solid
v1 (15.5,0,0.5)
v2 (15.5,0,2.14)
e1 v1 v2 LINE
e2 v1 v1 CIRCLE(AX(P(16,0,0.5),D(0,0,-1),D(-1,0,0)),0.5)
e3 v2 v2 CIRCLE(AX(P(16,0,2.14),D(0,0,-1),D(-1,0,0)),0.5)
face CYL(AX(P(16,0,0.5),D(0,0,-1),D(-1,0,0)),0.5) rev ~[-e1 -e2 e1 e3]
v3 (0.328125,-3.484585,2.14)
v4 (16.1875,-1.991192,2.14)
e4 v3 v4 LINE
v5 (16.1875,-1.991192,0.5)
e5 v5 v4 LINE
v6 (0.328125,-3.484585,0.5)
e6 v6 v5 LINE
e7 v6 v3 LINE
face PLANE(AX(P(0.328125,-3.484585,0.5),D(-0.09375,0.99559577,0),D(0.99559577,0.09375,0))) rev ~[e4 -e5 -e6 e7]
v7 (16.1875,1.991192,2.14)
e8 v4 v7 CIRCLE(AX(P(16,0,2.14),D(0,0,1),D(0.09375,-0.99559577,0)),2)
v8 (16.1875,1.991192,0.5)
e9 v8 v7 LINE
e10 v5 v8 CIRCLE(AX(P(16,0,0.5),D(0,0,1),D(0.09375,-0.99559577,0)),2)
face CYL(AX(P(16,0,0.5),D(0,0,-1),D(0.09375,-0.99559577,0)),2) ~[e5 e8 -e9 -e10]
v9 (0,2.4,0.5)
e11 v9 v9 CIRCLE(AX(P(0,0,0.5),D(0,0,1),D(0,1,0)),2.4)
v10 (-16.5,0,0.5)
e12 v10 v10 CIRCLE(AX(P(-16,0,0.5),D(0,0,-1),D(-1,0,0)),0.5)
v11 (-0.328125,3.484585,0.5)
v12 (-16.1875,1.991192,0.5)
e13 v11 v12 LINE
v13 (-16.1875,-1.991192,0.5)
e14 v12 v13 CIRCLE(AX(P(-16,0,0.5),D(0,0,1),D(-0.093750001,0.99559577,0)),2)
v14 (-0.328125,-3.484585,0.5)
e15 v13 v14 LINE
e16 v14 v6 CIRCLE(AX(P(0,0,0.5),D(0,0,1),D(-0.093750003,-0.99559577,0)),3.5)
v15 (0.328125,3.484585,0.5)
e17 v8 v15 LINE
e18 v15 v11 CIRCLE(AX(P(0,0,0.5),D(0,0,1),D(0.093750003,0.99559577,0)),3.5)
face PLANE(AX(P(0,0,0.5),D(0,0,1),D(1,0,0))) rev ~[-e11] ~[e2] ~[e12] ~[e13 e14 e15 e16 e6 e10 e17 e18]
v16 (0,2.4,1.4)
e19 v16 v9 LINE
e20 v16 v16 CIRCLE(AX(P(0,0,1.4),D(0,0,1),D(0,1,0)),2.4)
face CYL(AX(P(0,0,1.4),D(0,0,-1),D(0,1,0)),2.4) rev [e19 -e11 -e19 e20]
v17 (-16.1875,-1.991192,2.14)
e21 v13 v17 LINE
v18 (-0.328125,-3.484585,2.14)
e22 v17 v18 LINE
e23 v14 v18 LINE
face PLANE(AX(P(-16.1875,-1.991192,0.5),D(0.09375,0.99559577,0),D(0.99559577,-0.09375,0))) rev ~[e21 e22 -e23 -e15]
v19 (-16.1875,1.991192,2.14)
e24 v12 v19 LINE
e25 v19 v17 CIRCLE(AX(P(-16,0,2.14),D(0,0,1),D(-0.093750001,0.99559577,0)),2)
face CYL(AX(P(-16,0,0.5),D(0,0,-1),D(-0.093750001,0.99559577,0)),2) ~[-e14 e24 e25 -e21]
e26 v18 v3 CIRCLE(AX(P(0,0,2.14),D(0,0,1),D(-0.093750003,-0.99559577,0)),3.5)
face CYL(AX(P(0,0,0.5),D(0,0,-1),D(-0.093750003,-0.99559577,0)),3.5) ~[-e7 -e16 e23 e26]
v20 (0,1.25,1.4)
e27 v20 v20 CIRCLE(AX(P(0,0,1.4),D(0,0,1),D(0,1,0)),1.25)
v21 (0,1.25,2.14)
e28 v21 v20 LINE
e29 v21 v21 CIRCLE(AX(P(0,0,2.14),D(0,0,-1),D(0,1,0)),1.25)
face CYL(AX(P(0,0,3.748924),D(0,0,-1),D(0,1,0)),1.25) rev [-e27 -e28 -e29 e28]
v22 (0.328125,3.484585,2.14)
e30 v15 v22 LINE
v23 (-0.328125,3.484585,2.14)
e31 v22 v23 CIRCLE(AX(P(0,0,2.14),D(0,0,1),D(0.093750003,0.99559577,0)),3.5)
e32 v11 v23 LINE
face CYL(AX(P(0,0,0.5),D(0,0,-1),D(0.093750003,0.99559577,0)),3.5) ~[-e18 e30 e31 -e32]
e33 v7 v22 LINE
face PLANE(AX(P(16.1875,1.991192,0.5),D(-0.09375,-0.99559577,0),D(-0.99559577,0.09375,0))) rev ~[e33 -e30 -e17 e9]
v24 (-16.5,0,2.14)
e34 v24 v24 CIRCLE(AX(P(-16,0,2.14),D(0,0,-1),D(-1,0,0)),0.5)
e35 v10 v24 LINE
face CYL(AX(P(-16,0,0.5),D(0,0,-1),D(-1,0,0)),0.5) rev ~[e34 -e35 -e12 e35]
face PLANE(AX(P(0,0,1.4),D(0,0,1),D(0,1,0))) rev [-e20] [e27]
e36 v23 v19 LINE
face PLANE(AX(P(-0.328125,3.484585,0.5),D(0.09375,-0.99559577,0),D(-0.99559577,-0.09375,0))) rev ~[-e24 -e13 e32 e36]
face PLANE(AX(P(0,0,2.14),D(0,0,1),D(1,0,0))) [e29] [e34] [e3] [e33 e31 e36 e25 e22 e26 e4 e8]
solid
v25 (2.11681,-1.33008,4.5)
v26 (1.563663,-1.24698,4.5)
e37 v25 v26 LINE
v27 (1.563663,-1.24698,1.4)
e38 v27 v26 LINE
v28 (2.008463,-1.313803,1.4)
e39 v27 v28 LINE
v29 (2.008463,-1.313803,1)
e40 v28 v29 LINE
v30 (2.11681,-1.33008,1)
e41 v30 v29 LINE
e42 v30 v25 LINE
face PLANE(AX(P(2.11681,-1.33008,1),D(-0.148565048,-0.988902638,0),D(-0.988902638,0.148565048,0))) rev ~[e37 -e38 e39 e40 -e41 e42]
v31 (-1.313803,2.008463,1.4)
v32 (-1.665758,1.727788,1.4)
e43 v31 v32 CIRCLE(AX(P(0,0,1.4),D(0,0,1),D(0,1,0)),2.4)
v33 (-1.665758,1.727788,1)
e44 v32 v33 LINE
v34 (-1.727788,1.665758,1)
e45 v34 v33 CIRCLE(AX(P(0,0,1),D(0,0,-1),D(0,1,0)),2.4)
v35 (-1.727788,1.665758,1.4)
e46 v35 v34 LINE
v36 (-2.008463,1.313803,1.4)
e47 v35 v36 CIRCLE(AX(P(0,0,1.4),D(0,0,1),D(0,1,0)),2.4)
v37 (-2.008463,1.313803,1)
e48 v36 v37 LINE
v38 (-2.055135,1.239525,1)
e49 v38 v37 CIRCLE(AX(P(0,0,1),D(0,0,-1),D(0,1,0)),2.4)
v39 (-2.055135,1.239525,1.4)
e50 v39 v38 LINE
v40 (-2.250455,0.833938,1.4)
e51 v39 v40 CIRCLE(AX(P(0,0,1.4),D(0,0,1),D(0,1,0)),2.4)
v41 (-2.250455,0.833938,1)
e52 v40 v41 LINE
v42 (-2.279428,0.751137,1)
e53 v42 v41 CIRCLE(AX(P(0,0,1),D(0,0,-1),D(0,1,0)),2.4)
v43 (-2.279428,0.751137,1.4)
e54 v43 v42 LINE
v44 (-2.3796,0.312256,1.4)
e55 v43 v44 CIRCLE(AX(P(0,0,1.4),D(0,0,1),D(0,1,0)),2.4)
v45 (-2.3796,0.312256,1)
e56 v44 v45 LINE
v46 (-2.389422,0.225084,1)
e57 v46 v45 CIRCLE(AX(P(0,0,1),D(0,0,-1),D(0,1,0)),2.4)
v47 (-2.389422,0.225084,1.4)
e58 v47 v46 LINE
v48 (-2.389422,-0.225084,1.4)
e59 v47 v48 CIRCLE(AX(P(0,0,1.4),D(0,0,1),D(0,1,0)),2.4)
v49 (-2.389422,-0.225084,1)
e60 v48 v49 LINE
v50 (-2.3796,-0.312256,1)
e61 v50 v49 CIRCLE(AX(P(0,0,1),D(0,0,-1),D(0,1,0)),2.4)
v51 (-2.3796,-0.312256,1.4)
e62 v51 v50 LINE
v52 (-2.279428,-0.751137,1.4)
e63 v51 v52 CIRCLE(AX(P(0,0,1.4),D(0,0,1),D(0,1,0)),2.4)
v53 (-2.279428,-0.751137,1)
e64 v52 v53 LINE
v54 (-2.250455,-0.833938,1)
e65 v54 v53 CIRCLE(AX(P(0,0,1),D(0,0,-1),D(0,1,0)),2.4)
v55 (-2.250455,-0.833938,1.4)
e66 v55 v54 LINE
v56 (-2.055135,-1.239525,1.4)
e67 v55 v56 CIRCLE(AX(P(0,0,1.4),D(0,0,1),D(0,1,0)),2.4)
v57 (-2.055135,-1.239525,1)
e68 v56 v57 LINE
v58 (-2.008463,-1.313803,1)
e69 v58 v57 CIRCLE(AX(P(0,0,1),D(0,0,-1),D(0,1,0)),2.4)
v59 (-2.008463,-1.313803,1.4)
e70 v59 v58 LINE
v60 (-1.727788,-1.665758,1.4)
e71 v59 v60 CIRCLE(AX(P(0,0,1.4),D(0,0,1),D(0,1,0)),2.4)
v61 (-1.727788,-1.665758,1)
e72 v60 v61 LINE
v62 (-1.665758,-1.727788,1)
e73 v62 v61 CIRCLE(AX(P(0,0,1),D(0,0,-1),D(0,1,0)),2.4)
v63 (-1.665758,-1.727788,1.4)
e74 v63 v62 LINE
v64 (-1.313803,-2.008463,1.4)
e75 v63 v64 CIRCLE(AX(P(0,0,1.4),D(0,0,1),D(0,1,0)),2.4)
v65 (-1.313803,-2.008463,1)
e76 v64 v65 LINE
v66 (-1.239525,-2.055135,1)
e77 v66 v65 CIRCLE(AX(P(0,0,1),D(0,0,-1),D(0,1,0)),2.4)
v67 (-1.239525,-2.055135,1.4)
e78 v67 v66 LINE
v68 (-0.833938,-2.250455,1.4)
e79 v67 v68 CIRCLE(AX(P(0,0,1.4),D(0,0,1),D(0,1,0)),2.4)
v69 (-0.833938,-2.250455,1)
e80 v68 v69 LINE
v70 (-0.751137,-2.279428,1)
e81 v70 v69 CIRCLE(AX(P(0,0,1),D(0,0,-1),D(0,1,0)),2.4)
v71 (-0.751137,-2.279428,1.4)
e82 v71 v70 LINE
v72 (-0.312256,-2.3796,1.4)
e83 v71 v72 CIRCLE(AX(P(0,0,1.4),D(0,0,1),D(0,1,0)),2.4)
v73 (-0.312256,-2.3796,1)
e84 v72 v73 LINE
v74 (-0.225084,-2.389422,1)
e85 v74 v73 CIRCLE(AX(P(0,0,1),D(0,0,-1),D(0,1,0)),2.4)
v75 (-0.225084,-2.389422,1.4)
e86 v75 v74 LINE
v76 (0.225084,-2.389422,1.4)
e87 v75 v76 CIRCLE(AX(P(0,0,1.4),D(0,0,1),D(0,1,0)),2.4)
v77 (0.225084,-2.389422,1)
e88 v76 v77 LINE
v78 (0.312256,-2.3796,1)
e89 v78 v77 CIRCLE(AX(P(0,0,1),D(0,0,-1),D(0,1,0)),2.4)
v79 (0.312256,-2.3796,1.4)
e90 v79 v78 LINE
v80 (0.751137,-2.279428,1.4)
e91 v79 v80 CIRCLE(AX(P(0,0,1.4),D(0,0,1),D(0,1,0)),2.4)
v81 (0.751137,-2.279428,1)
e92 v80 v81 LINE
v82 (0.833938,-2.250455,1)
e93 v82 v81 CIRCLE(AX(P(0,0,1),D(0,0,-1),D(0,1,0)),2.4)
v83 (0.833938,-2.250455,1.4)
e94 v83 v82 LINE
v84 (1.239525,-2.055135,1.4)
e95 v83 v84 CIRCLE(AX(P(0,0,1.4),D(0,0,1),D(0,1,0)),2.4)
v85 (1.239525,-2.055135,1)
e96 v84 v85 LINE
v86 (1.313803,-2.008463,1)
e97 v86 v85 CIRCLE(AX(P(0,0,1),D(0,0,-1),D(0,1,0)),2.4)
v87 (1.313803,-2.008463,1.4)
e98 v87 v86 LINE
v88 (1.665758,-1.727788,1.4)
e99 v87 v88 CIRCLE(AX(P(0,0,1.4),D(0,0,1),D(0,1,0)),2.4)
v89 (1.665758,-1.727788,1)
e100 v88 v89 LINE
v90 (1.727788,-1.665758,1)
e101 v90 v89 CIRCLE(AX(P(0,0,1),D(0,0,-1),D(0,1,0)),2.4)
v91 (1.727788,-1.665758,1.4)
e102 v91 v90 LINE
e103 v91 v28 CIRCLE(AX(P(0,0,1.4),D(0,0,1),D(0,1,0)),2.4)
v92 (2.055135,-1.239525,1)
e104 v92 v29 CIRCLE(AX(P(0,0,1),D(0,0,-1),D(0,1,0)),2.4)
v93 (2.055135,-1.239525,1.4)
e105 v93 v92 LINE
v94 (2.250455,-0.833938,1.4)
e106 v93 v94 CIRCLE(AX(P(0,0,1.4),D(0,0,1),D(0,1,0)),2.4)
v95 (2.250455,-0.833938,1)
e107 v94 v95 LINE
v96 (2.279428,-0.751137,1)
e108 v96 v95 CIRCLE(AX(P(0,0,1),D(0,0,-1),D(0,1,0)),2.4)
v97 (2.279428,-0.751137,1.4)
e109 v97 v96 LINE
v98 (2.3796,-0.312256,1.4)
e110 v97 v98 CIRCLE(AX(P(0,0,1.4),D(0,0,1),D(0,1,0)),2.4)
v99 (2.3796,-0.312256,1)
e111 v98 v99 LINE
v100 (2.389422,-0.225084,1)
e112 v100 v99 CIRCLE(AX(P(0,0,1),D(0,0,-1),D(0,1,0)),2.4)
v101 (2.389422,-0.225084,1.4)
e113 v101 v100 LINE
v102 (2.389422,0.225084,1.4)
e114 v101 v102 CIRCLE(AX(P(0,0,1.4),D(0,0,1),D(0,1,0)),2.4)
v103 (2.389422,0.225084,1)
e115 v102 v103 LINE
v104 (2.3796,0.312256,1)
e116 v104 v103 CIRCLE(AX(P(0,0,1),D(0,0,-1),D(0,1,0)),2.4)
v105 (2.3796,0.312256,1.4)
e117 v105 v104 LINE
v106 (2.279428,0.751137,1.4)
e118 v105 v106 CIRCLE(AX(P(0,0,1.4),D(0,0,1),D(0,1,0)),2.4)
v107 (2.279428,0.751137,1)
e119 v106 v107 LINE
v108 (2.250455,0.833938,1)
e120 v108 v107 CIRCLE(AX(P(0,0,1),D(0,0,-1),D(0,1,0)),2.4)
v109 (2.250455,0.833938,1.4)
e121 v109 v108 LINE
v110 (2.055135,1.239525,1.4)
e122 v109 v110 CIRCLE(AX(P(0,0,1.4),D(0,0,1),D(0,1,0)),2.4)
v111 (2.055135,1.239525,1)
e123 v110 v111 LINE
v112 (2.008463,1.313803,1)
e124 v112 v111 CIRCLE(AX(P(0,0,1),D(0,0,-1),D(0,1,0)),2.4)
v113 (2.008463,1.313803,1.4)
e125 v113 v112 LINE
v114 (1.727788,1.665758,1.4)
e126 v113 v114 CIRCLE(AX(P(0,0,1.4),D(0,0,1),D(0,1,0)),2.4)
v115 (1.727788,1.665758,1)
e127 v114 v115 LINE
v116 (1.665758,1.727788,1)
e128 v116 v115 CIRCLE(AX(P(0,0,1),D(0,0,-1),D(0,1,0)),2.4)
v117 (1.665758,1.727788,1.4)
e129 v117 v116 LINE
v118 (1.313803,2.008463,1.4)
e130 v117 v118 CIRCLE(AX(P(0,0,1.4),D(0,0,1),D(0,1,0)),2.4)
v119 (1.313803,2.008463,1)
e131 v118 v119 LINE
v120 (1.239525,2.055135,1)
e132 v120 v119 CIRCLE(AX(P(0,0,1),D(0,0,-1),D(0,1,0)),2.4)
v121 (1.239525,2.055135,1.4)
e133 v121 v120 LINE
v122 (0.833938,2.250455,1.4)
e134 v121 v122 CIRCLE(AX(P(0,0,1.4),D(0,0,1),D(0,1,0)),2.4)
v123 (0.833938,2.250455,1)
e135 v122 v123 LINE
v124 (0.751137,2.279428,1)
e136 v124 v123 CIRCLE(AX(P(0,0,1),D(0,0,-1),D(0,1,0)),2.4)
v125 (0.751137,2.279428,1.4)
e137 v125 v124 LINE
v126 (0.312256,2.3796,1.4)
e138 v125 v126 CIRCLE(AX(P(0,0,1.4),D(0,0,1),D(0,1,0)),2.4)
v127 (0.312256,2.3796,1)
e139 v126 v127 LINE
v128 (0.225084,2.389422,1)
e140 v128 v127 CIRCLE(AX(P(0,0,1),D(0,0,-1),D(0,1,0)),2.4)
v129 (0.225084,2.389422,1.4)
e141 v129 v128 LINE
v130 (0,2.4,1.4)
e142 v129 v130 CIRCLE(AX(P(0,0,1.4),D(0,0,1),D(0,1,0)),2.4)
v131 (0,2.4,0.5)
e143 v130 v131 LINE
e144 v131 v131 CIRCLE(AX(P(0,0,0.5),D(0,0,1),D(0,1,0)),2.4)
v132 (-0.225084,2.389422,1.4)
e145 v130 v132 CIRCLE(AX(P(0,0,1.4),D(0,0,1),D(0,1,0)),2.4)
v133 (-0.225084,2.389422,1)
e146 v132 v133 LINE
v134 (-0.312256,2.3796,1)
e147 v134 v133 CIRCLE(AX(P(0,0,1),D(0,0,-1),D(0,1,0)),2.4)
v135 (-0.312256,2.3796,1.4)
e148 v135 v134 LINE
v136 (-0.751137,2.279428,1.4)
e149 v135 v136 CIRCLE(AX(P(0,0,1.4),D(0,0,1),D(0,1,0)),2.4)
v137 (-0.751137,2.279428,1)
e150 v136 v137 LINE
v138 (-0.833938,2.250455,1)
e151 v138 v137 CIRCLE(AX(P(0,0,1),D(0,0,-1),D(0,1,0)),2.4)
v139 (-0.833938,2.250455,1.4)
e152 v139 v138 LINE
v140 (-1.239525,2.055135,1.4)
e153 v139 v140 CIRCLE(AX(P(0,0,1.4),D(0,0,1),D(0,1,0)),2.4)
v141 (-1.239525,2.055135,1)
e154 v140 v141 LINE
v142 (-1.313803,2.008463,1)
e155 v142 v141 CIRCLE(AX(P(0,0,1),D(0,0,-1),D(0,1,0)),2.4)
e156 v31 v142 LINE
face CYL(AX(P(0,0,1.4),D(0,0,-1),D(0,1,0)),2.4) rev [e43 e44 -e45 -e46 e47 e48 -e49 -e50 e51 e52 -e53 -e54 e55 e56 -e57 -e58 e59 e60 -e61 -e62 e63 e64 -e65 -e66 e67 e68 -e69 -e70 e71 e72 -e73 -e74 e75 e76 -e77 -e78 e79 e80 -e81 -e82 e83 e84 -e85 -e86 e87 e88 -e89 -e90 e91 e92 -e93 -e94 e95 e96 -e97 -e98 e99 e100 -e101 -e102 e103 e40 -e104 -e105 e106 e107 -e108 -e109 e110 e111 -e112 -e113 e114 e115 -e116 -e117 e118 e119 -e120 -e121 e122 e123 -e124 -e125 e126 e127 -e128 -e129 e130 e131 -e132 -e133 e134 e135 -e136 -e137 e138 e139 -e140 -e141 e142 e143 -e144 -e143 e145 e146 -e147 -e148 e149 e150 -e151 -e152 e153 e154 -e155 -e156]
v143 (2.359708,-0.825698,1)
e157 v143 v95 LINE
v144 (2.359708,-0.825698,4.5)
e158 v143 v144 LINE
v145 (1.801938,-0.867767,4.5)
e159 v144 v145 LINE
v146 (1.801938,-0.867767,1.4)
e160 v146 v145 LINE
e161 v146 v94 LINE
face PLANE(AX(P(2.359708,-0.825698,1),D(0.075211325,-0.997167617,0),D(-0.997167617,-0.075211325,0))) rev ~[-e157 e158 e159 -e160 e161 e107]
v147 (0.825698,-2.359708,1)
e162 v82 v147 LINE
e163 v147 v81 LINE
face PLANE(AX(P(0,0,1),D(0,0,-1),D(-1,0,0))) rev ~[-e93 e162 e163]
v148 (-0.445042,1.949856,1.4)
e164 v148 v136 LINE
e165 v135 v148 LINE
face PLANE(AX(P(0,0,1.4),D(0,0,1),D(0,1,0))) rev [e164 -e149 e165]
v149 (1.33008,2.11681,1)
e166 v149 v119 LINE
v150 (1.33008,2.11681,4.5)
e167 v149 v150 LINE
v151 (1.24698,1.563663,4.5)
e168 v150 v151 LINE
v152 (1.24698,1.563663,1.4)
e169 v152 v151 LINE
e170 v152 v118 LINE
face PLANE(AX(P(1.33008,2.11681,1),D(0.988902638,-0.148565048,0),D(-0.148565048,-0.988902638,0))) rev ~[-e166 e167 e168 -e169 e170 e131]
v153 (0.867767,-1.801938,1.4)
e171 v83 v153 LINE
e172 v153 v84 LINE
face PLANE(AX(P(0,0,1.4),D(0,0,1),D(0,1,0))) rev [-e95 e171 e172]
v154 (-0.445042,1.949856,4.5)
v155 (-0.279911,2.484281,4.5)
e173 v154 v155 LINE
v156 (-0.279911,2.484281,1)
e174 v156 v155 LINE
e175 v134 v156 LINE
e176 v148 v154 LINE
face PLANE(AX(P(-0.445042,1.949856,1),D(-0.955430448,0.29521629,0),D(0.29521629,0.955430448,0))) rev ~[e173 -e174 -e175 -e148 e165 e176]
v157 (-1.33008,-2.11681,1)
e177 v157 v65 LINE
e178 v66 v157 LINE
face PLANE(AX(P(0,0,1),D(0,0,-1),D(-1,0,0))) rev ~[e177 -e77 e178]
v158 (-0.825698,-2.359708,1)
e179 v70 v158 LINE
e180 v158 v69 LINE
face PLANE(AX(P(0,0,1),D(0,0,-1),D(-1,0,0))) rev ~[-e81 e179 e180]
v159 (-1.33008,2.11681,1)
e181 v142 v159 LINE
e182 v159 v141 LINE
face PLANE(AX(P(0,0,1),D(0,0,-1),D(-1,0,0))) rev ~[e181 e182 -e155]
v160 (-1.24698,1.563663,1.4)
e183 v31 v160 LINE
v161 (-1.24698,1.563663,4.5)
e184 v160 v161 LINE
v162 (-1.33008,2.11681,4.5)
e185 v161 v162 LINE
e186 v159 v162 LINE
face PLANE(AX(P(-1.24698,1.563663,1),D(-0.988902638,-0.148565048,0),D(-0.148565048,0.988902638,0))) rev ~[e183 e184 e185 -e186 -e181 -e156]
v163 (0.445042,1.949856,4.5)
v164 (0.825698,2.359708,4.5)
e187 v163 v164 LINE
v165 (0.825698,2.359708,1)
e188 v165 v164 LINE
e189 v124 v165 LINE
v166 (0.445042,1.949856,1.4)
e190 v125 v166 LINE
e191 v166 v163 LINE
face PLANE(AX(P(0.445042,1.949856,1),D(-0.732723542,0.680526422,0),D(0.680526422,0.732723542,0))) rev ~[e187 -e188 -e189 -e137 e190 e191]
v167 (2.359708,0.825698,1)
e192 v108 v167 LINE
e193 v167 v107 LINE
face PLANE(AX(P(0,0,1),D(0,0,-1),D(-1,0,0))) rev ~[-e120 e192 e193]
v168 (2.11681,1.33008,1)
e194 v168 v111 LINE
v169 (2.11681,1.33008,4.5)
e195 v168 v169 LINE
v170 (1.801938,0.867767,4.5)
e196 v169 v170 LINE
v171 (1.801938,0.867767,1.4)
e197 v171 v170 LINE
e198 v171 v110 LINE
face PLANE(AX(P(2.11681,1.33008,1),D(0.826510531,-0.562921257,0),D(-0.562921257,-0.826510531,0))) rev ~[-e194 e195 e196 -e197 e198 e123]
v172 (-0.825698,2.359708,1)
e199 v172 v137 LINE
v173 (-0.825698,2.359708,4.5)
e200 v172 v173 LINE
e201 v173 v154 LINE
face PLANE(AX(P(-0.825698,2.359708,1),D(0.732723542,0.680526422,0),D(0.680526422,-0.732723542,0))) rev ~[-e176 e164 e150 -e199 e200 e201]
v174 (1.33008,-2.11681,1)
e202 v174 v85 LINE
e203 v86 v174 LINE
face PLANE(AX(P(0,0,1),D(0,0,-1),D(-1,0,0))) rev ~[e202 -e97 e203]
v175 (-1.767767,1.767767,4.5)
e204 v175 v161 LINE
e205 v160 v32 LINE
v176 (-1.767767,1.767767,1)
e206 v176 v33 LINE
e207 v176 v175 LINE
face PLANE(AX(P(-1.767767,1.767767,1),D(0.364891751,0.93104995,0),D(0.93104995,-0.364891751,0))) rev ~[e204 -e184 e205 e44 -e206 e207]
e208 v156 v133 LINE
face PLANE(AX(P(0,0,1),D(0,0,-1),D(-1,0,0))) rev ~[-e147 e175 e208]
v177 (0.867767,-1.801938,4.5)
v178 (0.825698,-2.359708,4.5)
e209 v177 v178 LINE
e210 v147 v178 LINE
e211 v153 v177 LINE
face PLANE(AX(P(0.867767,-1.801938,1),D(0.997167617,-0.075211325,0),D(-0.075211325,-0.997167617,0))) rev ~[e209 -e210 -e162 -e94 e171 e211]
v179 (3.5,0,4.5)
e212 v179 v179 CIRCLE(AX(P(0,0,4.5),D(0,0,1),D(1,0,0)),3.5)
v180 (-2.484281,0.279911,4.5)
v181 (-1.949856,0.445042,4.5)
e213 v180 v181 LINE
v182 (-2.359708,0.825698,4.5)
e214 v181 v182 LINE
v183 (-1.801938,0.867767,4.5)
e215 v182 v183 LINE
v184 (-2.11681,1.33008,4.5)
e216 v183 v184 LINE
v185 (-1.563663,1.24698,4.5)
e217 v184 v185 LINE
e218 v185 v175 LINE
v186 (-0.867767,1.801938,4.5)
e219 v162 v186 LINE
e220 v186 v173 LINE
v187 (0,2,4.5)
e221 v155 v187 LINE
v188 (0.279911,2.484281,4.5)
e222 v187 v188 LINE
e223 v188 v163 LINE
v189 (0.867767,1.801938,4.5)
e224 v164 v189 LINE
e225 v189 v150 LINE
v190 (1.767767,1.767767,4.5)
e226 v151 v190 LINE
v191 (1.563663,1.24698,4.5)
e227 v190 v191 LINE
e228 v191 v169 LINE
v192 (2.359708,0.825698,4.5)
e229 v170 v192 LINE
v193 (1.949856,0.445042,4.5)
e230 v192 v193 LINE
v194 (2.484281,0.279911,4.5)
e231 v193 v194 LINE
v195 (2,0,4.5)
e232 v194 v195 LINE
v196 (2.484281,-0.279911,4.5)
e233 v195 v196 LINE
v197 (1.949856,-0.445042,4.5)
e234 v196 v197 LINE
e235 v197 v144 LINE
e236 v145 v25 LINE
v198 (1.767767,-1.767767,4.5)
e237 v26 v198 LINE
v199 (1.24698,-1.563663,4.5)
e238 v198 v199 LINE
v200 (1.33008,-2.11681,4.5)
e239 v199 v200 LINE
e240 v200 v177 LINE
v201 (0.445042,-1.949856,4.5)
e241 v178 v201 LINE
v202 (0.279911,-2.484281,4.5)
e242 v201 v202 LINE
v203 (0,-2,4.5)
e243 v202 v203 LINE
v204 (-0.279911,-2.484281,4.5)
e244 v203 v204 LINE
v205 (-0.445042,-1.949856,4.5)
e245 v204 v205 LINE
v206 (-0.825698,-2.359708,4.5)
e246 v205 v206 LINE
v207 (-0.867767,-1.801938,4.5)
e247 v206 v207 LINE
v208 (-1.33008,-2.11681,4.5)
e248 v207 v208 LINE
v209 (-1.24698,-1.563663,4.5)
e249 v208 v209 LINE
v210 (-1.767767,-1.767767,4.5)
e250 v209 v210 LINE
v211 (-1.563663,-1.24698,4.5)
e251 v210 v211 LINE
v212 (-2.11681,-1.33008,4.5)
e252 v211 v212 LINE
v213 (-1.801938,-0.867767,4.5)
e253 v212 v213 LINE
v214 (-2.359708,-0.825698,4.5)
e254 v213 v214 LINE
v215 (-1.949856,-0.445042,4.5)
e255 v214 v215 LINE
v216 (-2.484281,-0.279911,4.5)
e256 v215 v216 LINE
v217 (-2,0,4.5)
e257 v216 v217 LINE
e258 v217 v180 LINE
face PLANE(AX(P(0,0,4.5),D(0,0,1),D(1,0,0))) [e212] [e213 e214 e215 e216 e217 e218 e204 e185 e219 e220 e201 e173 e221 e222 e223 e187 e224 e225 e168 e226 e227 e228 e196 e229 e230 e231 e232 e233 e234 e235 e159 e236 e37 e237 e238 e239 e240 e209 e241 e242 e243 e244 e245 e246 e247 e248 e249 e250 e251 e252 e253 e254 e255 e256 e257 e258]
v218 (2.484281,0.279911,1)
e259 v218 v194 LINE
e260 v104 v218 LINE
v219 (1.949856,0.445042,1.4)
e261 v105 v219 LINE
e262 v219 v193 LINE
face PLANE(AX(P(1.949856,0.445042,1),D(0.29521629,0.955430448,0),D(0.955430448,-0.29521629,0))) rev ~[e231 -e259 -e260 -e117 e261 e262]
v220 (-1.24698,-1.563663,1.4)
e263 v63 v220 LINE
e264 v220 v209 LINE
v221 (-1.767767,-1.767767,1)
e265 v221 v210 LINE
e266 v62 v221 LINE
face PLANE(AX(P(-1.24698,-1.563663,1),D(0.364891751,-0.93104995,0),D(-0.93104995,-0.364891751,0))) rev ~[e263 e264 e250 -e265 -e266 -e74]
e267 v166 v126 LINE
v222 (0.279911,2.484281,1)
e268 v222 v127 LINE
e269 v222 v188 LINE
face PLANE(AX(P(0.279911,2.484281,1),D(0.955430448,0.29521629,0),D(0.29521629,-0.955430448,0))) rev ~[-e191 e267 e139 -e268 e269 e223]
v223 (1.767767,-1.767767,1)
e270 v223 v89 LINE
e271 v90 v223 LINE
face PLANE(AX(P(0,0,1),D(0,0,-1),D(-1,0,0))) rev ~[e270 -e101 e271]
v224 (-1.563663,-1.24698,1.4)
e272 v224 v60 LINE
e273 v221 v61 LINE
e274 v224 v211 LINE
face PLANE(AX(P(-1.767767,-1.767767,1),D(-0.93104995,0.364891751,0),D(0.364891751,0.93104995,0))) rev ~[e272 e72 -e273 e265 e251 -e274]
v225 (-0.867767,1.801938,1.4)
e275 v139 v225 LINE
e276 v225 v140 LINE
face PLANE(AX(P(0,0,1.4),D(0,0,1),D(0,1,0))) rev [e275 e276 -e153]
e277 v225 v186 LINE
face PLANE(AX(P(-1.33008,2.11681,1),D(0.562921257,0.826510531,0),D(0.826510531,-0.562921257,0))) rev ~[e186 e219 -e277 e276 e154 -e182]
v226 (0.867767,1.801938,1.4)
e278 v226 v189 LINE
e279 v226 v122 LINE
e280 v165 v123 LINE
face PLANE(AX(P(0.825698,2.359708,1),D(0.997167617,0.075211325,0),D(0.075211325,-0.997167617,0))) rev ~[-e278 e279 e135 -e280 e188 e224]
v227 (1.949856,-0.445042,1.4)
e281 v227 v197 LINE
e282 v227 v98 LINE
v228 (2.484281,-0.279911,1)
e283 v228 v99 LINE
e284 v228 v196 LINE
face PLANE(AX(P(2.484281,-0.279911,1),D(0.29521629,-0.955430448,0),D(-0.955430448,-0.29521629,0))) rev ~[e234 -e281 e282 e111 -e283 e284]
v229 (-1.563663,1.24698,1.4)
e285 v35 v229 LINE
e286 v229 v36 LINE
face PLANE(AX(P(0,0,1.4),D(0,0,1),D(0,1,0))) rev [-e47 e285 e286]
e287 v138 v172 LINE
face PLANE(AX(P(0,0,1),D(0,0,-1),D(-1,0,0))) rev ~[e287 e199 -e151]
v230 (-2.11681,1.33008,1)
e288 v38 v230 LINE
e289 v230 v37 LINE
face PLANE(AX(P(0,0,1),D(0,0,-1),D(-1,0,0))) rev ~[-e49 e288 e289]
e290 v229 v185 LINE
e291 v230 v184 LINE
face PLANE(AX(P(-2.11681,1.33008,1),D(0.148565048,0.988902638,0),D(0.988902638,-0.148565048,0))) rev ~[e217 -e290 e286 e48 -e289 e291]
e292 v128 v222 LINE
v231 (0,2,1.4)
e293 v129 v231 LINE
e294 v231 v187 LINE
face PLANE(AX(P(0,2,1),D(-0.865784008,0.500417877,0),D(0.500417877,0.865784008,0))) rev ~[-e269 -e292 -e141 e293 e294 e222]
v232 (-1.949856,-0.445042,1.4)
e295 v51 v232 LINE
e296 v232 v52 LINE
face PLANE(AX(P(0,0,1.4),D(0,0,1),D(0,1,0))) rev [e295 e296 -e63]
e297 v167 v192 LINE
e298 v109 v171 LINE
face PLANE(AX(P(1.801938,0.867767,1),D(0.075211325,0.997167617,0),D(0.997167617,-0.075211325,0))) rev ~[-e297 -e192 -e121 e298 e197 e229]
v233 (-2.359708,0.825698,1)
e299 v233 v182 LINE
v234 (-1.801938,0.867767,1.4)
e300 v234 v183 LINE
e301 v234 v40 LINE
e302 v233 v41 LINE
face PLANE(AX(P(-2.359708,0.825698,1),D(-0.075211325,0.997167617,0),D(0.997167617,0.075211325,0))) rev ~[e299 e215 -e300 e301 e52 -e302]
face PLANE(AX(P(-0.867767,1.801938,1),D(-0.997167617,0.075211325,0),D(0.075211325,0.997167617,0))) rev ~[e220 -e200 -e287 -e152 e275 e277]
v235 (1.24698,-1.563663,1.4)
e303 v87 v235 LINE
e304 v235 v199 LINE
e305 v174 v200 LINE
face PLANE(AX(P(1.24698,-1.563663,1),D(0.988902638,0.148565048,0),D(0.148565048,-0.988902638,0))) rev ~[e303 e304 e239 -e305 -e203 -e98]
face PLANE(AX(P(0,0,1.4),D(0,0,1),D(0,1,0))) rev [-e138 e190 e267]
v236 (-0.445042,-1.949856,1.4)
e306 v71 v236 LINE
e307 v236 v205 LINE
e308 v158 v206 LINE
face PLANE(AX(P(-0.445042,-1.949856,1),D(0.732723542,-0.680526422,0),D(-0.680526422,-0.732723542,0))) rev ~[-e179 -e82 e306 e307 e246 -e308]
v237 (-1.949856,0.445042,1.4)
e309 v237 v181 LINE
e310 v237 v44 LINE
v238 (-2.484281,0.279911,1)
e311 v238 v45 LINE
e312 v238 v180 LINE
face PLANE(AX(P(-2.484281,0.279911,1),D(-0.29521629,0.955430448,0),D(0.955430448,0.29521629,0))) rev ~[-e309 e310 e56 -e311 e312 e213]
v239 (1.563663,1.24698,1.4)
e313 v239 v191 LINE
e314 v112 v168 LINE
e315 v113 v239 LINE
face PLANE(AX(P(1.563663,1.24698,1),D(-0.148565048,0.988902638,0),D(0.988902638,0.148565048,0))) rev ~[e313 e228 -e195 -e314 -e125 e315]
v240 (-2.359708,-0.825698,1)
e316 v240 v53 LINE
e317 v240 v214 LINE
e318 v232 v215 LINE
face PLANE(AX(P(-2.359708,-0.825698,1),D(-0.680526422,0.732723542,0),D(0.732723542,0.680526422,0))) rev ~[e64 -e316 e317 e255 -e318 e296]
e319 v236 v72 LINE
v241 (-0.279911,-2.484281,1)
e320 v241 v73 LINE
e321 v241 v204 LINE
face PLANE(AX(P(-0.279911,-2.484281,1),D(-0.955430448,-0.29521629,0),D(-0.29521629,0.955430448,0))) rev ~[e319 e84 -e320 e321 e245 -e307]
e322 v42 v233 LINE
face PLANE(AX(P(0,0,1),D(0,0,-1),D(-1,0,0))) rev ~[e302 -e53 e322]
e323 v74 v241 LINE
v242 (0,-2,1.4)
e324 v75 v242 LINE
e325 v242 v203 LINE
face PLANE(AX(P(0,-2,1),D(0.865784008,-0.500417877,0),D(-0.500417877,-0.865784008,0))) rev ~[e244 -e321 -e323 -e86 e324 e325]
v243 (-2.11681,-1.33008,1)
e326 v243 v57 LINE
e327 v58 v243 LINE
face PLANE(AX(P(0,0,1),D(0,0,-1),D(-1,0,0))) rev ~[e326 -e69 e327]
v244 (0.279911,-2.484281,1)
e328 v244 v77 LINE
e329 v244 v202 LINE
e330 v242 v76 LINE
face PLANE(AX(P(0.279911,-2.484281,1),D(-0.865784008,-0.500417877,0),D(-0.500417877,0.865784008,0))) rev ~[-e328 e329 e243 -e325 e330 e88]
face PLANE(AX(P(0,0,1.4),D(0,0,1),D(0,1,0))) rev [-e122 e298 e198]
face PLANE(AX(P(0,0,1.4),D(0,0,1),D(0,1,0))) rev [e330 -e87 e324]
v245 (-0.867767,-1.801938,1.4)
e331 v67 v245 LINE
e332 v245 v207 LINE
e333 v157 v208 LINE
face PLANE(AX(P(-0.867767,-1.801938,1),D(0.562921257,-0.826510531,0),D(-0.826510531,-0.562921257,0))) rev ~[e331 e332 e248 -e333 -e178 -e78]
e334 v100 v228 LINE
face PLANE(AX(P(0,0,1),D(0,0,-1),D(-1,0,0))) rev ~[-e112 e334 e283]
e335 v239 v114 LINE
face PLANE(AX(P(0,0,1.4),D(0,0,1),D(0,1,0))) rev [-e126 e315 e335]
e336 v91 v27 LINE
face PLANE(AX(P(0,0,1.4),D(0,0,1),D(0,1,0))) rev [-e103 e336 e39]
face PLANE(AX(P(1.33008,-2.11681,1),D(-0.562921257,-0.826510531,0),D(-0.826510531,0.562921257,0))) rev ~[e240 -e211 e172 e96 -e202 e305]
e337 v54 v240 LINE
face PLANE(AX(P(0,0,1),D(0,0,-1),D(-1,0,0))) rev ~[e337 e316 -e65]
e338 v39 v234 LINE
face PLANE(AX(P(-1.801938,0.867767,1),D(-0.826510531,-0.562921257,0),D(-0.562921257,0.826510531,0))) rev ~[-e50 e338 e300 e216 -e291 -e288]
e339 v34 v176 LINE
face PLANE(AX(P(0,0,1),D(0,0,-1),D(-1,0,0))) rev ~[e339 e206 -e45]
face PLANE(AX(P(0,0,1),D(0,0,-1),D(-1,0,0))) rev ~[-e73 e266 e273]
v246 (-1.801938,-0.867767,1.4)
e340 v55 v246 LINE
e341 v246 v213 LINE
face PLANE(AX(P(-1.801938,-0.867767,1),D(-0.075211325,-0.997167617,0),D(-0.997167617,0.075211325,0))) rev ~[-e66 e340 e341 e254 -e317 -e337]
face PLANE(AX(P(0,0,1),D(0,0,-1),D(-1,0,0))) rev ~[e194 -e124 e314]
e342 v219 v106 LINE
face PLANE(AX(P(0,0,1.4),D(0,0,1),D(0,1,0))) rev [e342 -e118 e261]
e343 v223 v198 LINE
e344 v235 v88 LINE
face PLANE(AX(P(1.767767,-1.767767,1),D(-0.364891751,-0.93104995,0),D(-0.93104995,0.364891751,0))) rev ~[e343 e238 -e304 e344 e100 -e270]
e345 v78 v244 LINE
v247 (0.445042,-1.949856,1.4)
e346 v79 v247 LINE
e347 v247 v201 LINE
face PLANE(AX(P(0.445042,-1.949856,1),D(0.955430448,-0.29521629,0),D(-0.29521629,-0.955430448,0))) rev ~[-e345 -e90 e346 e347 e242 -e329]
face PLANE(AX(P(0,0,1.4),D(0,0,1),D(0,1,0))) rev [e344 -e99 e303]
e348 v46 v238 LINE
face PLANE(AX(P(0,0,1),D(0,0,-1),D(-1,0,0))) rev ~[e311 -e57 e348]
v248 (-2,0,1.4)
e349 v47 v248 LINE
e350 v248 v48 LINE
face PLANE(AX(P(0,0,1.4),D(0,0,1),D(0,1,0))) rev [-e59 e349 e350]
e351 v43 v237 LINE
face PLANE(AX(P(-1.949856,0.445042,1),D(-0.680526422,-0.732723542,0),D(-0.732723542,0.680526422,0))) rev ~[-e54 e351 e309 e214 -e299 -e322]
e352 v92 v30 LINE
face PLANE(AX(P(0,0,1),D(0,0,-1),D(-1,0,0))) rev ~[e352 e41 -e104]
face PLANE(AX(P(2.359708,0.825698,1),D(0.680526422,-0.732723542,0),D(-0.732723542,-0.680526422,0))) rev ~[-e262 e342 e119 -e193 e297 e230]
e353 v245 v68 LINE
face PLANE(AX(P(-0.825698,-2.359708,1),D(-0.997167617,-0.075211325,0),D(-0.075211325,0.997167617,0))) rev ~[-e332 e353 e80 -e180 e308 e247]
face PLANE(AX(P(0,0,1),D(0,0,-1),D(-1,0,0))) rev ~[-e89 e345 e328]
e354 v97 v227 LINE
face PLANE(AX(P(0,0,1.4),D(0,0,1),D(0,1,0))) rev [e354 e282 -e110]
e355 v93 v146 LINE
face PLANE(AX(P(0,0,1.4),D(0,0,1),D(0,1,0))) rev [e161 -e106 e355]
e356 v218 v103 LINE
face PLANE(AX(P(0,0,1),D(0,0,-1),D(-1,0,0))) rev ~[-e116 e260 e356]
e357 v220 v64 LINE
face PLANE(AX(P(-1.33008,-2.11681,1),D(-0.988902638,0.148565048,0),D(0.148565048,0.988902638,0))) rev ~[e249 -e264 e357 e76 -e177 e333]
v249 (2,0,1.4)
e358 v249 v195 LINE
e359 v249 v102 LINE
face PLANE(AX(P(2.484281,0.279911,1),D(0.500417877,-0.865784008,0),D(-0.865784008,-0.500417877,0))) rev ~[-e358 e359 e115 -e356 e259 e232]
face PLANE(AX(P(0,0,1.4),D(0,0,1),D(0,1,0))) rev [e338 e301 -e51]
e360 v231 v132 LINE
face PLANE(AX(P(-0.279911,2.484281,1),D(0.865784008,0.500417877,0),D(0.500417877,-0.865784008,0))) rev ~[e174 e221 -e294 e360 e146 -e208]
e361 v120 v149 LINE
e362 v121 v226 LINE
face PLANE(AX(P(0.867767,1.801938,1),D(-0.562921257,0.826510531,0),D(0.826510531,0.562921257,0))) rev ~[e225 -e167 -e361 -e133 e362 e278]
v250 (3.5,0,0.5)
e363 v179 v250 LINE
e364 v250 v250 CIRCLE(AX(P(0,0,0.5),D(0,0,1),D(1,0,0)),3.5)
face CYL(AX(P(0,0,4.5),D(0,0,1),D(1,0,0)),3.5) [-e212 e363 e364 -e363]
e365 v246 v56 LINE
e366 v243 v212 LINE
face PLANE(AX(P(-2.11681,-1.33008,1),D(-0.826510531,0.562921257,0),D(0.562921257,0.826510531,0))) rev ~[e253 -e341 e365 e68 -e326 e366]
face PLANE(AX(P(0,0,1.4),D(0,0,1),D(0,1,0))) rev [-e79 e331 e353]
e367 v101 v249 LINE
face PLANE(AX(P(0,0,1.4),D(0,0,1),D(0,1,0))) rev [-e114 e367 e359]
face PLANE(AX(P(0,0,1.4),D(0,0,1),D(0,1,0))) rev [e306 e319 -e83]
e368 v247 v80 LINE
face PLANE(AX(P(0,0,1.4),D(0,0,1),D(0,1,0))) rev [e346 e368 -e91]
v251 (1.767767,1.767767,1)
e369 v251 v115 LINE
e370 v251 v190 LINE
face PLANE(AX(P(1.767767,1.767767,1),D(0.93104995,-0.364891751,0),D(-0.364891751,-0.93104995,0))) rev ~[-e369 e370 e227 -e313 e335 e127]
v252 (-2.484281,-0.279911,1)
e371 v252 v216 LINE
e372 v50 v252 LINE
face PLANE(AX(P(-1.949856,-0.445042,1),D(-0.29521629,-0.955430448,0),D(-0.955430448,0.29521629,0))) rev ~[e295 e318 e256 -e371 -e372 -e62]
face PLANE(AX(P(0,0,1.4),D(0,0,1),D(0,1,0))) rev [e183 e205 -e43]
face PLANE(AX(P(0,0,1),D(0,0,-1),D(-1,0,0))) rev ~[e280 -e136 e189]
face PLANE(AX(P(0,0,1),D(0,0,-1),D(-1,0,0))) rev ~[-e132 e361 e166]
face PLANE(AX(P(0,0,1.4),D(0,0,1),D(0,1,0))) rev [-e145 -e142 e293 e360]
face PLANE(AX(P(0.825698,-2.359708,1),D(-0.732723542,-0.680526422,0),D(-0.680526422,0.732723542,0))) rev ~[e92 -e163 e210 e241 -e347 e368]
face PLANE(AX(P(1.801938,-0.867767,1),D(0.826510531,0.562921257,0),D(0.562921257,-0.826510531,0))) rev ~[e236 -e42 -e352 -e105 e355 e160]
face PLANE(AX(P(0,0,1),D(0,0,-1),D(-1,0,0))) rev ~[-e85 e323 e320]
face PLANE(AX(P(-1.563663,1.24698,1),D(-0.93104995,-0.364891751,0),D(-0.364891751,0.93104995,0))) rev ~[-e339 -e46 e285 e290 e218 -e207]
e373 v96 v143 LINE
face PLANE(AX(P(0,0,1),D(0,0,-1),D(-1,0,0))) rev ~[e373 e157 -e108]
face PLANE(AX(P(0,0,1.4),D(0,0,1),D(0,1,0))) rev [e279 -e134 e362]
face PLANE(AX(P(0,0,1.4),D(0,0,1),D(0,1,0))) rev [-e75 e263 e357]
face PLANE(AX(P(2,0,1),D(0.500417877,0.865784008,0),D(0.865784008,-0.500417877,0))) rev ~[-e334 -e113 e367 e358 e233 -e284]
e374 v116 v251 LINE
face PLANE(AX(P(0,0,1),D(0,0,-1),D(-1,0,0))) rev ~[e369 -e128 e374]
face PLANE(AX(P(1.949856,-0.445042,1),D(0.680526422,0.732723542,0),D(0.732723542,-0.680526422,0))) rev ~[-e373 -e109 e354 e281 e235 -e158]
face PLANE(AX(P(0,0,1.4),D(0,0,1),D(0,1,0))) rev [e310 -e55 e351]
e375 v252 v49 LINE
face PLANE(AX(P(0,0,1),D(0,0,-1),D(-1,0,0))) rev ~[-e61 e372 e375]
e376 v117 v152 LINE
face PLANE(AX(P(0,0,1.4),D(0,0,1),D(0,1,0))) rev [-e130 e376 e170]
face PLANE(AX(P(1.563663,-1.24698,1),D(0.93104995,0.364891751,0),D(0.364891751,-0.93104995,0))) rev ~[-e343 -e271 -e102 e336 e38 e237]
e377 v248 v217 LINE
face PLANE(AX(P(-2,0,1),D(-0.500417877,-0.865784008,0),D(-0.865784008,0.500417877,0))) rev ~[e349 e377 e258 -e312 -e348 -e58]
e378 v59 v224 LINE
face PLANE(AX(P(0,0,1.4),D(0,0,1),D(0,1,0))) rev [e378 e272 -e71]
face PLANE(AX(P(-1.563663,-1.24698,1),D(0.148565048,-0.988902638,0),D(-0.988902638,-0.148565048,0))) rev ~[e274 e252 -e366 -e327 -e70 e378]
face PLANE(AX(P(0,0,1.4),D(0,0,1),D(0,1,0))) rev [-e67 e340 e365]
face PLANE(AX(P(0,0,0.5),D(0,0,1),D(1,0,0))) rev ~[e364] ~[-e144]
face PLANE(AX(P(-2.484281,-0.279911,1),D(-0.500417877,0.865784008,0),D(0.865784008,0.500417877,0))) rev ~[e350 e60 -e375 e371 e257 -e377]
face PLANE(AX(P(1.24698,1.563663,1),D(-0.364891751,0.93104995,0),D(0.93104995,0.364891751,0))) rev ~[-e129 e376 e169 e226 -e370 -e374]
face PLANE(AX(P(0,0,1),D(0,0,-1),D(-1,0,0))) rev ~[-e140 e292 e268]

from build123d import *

# Parameters (mm, degrees)
SKETCH_1_R      = 1
EXTRUDE_1_DEPTH = 4.3
SKETCH_2_R      = 2
EXTRUDE_2_DEPTH = 1
EXTRUDE_3_DEPTH = 3.5
SKETCH_7_R      = 3.5
EXTRUDE_4_DEPTH = 4
SKETCH_9_R      = 0.5
EXTRUDE_5_DEPTH = 1.64


with BuildPart() as part:
    # 草图1 → 凸台-拉伸1 (new body)
    with BuildSketch(Plane.XY):
        Circle(SKETCH_1_R)
    extrude(amount=-EXTRUDE_1_DEPTH)

    # 草图2 → 凸台-拉伸2 (add)
    with BuildSketch(Plane.XY):
        Circle(SKETCH_2_R)
    extrude(amount=EXTRUDE_2_DEPTH)

    # 草图3 → 凸台-拉伸3 (add)
    with BuildSketch(Plane.XY.offset(1)):
        Polygon((2.359708326, -0.825697655), (1.801937736, -0.867767478), (2.116810498, -1.330080191), (1.563662965, -1.246979604), (1.767766953, -1.767766953), (1.246979604, -1.563662965), (1.330080191, -2.116810498), (0.867767478, -1.801937736), (0.825697655, -2.359708326), (0.445041868, -1.949855824), (0.27991119, -2.484280525), (0, -2), (-0.27991119, -2.484280525), (-0.445041868, -1.949855824), (-0.825697655, -2.359708326), (-0.867767478, -1.801937736), (-1.330080191, -2.116810498), (-1.246979604, -1.563662965), (-1.767766953, -1.767766953), (-1.563662965, -1.246979604), (-2.116810498, -1.330080191), (-1.801937736, -0.867767478), (-2.359708326, -0.825697655), (-1.949855824, -0.445041868), (-2.484280525, -0.27991119), (-2, 0), (-2.484280525, 0.27991119), (-1.949855824, 0.445041868), (-2.359708326, 0.825697655), (-1.801937736, 0.867767478), (-2.116810498, 1.330080191), (-1.563662965, 1.246979604), (-1.767766953, 1.767766953), (-1.246979604, 1.563662965), (-1.330080191, 2.116810498), (-0.867767478, 1.801937736), (-0.825697655, 2.359708326), (-0.445041868, 1.949855824), (-0.27991119, 2.484280525), (0, 2), (0.27991119, 2.484280525), (0.445041868, 1.949855824), (0.825697655, 2.359708326), (0.867767478, 1.801937736), (1.330080191, 2.116810498), (1.246979604, 1.563662965), (1.767766953, 1.767766953), (1.563662965, 1.246979604), (2.116810498, 1.330080191), (1.801937736, 0.867767478), (2.359708326, 0.825697655), (1.949855824, 0.445041868), (2.484280525, 0.27991119), (2, 0), (2.484280525, -0.27991119), (1.949855824, -0.445041868), align=None)
    extrude(amount=EXTRUDE_3_DEPTH)


with BuildPart() as body_2:
    # 草图7 → 凸台-拉伸4 (new body)
    with BuildSketch(Plane.XY.offset(4.5)):
        Circle(SKETCH_7_R)
    extrude(amount=-EXTRUDE_4_DEPTH)

    # Combine 1: cut part
    add(part.part, mode=Mode.SUBTRACT)


with BuildPart() as body_2_2:
    # 草图9 → 凸台-拉伸5 (new body)
    with BuildSketch(Plane(origin=(0, 0, 0.5), x_dir=(-1, 0, 0), z_dir=(0, 0, -1))):
        with BuildLine():
            Line((-16.187500002, 1.991191539), (-0.328125, 3.484585195))
            ThreePointArc((-0.328125, 3.484585195), (0, 3.5), (0.328125, 3.484585195))
            Line((0.328125, 3.484585195), (16.187500002, 1.991191539))
            ThreePointArc((16.187500002, 1.991191539), (17.999999999, -1e-09), (16.1875, -1.99119154))
            Line((16.1875, -1.99119154), (0.328125, -3.484585195))
            ThreePointArc((0.328125, -3.484585195), (0, -3.5), (-0.328125, -3.484585195))
            Line((-0.328125, -3.484585195), (-16.1875, -1.99119154))
            ThreePointArc((-16.1875, -1.99119154), (-17.999999999, -1e-09), (-16.187500002, 1.991191539))
        make_face()
        with Locations((16, 0)):
            Circle(SKETCH_9_R, mode=Mode.SUBTRACT)
        with Locations((-16, 0)):
            Circle(SKETCH_9_R, mode=Mode.SUBTRACT)
    extrude(amount=-EXTRUDE_5_DEPTH)


with BuildPart() as hole_wizard_m2_1_tool:
    # 草图12 → M2 六角凹头螺钉的柱形沉头孔1 (revolve)
    with BuildSketch(Plane(origin=(0, 0, 0.5), x_dir=(0, 1, 0), z_dir=(1, 0, 0))):
        Polygon((0, 0), (0, 4), (1.25, 3.248924226), (1.25, 0.9), (2.4, 0.9), (2.4, 0), align=None)
    revolve(axis=Axis((0, 0, -5.85), (0, 0, 1)))


with BuildPart() as body_2_1:
    add(body_2.part)

    # M2 六角凹头螺钉的柱形沉头孔1: cut by hole_wizard_m2_1_tool
    add(hole_wizard_m2_1_tool.part, mode=Mode.SUBTRACT)


with BuildPart() as body_2_2_1:
    add(body_2_2.part)

    # M2 六角凹头螺钉的柱形沉头孔1: cut by hole_wizard_m2_1_tool
    add(hole_wizard_m2_1_tool.part, mode=Mode.SUBTRACT)


solid = Compound([body_2_1.part, body_2_2_1.part])
